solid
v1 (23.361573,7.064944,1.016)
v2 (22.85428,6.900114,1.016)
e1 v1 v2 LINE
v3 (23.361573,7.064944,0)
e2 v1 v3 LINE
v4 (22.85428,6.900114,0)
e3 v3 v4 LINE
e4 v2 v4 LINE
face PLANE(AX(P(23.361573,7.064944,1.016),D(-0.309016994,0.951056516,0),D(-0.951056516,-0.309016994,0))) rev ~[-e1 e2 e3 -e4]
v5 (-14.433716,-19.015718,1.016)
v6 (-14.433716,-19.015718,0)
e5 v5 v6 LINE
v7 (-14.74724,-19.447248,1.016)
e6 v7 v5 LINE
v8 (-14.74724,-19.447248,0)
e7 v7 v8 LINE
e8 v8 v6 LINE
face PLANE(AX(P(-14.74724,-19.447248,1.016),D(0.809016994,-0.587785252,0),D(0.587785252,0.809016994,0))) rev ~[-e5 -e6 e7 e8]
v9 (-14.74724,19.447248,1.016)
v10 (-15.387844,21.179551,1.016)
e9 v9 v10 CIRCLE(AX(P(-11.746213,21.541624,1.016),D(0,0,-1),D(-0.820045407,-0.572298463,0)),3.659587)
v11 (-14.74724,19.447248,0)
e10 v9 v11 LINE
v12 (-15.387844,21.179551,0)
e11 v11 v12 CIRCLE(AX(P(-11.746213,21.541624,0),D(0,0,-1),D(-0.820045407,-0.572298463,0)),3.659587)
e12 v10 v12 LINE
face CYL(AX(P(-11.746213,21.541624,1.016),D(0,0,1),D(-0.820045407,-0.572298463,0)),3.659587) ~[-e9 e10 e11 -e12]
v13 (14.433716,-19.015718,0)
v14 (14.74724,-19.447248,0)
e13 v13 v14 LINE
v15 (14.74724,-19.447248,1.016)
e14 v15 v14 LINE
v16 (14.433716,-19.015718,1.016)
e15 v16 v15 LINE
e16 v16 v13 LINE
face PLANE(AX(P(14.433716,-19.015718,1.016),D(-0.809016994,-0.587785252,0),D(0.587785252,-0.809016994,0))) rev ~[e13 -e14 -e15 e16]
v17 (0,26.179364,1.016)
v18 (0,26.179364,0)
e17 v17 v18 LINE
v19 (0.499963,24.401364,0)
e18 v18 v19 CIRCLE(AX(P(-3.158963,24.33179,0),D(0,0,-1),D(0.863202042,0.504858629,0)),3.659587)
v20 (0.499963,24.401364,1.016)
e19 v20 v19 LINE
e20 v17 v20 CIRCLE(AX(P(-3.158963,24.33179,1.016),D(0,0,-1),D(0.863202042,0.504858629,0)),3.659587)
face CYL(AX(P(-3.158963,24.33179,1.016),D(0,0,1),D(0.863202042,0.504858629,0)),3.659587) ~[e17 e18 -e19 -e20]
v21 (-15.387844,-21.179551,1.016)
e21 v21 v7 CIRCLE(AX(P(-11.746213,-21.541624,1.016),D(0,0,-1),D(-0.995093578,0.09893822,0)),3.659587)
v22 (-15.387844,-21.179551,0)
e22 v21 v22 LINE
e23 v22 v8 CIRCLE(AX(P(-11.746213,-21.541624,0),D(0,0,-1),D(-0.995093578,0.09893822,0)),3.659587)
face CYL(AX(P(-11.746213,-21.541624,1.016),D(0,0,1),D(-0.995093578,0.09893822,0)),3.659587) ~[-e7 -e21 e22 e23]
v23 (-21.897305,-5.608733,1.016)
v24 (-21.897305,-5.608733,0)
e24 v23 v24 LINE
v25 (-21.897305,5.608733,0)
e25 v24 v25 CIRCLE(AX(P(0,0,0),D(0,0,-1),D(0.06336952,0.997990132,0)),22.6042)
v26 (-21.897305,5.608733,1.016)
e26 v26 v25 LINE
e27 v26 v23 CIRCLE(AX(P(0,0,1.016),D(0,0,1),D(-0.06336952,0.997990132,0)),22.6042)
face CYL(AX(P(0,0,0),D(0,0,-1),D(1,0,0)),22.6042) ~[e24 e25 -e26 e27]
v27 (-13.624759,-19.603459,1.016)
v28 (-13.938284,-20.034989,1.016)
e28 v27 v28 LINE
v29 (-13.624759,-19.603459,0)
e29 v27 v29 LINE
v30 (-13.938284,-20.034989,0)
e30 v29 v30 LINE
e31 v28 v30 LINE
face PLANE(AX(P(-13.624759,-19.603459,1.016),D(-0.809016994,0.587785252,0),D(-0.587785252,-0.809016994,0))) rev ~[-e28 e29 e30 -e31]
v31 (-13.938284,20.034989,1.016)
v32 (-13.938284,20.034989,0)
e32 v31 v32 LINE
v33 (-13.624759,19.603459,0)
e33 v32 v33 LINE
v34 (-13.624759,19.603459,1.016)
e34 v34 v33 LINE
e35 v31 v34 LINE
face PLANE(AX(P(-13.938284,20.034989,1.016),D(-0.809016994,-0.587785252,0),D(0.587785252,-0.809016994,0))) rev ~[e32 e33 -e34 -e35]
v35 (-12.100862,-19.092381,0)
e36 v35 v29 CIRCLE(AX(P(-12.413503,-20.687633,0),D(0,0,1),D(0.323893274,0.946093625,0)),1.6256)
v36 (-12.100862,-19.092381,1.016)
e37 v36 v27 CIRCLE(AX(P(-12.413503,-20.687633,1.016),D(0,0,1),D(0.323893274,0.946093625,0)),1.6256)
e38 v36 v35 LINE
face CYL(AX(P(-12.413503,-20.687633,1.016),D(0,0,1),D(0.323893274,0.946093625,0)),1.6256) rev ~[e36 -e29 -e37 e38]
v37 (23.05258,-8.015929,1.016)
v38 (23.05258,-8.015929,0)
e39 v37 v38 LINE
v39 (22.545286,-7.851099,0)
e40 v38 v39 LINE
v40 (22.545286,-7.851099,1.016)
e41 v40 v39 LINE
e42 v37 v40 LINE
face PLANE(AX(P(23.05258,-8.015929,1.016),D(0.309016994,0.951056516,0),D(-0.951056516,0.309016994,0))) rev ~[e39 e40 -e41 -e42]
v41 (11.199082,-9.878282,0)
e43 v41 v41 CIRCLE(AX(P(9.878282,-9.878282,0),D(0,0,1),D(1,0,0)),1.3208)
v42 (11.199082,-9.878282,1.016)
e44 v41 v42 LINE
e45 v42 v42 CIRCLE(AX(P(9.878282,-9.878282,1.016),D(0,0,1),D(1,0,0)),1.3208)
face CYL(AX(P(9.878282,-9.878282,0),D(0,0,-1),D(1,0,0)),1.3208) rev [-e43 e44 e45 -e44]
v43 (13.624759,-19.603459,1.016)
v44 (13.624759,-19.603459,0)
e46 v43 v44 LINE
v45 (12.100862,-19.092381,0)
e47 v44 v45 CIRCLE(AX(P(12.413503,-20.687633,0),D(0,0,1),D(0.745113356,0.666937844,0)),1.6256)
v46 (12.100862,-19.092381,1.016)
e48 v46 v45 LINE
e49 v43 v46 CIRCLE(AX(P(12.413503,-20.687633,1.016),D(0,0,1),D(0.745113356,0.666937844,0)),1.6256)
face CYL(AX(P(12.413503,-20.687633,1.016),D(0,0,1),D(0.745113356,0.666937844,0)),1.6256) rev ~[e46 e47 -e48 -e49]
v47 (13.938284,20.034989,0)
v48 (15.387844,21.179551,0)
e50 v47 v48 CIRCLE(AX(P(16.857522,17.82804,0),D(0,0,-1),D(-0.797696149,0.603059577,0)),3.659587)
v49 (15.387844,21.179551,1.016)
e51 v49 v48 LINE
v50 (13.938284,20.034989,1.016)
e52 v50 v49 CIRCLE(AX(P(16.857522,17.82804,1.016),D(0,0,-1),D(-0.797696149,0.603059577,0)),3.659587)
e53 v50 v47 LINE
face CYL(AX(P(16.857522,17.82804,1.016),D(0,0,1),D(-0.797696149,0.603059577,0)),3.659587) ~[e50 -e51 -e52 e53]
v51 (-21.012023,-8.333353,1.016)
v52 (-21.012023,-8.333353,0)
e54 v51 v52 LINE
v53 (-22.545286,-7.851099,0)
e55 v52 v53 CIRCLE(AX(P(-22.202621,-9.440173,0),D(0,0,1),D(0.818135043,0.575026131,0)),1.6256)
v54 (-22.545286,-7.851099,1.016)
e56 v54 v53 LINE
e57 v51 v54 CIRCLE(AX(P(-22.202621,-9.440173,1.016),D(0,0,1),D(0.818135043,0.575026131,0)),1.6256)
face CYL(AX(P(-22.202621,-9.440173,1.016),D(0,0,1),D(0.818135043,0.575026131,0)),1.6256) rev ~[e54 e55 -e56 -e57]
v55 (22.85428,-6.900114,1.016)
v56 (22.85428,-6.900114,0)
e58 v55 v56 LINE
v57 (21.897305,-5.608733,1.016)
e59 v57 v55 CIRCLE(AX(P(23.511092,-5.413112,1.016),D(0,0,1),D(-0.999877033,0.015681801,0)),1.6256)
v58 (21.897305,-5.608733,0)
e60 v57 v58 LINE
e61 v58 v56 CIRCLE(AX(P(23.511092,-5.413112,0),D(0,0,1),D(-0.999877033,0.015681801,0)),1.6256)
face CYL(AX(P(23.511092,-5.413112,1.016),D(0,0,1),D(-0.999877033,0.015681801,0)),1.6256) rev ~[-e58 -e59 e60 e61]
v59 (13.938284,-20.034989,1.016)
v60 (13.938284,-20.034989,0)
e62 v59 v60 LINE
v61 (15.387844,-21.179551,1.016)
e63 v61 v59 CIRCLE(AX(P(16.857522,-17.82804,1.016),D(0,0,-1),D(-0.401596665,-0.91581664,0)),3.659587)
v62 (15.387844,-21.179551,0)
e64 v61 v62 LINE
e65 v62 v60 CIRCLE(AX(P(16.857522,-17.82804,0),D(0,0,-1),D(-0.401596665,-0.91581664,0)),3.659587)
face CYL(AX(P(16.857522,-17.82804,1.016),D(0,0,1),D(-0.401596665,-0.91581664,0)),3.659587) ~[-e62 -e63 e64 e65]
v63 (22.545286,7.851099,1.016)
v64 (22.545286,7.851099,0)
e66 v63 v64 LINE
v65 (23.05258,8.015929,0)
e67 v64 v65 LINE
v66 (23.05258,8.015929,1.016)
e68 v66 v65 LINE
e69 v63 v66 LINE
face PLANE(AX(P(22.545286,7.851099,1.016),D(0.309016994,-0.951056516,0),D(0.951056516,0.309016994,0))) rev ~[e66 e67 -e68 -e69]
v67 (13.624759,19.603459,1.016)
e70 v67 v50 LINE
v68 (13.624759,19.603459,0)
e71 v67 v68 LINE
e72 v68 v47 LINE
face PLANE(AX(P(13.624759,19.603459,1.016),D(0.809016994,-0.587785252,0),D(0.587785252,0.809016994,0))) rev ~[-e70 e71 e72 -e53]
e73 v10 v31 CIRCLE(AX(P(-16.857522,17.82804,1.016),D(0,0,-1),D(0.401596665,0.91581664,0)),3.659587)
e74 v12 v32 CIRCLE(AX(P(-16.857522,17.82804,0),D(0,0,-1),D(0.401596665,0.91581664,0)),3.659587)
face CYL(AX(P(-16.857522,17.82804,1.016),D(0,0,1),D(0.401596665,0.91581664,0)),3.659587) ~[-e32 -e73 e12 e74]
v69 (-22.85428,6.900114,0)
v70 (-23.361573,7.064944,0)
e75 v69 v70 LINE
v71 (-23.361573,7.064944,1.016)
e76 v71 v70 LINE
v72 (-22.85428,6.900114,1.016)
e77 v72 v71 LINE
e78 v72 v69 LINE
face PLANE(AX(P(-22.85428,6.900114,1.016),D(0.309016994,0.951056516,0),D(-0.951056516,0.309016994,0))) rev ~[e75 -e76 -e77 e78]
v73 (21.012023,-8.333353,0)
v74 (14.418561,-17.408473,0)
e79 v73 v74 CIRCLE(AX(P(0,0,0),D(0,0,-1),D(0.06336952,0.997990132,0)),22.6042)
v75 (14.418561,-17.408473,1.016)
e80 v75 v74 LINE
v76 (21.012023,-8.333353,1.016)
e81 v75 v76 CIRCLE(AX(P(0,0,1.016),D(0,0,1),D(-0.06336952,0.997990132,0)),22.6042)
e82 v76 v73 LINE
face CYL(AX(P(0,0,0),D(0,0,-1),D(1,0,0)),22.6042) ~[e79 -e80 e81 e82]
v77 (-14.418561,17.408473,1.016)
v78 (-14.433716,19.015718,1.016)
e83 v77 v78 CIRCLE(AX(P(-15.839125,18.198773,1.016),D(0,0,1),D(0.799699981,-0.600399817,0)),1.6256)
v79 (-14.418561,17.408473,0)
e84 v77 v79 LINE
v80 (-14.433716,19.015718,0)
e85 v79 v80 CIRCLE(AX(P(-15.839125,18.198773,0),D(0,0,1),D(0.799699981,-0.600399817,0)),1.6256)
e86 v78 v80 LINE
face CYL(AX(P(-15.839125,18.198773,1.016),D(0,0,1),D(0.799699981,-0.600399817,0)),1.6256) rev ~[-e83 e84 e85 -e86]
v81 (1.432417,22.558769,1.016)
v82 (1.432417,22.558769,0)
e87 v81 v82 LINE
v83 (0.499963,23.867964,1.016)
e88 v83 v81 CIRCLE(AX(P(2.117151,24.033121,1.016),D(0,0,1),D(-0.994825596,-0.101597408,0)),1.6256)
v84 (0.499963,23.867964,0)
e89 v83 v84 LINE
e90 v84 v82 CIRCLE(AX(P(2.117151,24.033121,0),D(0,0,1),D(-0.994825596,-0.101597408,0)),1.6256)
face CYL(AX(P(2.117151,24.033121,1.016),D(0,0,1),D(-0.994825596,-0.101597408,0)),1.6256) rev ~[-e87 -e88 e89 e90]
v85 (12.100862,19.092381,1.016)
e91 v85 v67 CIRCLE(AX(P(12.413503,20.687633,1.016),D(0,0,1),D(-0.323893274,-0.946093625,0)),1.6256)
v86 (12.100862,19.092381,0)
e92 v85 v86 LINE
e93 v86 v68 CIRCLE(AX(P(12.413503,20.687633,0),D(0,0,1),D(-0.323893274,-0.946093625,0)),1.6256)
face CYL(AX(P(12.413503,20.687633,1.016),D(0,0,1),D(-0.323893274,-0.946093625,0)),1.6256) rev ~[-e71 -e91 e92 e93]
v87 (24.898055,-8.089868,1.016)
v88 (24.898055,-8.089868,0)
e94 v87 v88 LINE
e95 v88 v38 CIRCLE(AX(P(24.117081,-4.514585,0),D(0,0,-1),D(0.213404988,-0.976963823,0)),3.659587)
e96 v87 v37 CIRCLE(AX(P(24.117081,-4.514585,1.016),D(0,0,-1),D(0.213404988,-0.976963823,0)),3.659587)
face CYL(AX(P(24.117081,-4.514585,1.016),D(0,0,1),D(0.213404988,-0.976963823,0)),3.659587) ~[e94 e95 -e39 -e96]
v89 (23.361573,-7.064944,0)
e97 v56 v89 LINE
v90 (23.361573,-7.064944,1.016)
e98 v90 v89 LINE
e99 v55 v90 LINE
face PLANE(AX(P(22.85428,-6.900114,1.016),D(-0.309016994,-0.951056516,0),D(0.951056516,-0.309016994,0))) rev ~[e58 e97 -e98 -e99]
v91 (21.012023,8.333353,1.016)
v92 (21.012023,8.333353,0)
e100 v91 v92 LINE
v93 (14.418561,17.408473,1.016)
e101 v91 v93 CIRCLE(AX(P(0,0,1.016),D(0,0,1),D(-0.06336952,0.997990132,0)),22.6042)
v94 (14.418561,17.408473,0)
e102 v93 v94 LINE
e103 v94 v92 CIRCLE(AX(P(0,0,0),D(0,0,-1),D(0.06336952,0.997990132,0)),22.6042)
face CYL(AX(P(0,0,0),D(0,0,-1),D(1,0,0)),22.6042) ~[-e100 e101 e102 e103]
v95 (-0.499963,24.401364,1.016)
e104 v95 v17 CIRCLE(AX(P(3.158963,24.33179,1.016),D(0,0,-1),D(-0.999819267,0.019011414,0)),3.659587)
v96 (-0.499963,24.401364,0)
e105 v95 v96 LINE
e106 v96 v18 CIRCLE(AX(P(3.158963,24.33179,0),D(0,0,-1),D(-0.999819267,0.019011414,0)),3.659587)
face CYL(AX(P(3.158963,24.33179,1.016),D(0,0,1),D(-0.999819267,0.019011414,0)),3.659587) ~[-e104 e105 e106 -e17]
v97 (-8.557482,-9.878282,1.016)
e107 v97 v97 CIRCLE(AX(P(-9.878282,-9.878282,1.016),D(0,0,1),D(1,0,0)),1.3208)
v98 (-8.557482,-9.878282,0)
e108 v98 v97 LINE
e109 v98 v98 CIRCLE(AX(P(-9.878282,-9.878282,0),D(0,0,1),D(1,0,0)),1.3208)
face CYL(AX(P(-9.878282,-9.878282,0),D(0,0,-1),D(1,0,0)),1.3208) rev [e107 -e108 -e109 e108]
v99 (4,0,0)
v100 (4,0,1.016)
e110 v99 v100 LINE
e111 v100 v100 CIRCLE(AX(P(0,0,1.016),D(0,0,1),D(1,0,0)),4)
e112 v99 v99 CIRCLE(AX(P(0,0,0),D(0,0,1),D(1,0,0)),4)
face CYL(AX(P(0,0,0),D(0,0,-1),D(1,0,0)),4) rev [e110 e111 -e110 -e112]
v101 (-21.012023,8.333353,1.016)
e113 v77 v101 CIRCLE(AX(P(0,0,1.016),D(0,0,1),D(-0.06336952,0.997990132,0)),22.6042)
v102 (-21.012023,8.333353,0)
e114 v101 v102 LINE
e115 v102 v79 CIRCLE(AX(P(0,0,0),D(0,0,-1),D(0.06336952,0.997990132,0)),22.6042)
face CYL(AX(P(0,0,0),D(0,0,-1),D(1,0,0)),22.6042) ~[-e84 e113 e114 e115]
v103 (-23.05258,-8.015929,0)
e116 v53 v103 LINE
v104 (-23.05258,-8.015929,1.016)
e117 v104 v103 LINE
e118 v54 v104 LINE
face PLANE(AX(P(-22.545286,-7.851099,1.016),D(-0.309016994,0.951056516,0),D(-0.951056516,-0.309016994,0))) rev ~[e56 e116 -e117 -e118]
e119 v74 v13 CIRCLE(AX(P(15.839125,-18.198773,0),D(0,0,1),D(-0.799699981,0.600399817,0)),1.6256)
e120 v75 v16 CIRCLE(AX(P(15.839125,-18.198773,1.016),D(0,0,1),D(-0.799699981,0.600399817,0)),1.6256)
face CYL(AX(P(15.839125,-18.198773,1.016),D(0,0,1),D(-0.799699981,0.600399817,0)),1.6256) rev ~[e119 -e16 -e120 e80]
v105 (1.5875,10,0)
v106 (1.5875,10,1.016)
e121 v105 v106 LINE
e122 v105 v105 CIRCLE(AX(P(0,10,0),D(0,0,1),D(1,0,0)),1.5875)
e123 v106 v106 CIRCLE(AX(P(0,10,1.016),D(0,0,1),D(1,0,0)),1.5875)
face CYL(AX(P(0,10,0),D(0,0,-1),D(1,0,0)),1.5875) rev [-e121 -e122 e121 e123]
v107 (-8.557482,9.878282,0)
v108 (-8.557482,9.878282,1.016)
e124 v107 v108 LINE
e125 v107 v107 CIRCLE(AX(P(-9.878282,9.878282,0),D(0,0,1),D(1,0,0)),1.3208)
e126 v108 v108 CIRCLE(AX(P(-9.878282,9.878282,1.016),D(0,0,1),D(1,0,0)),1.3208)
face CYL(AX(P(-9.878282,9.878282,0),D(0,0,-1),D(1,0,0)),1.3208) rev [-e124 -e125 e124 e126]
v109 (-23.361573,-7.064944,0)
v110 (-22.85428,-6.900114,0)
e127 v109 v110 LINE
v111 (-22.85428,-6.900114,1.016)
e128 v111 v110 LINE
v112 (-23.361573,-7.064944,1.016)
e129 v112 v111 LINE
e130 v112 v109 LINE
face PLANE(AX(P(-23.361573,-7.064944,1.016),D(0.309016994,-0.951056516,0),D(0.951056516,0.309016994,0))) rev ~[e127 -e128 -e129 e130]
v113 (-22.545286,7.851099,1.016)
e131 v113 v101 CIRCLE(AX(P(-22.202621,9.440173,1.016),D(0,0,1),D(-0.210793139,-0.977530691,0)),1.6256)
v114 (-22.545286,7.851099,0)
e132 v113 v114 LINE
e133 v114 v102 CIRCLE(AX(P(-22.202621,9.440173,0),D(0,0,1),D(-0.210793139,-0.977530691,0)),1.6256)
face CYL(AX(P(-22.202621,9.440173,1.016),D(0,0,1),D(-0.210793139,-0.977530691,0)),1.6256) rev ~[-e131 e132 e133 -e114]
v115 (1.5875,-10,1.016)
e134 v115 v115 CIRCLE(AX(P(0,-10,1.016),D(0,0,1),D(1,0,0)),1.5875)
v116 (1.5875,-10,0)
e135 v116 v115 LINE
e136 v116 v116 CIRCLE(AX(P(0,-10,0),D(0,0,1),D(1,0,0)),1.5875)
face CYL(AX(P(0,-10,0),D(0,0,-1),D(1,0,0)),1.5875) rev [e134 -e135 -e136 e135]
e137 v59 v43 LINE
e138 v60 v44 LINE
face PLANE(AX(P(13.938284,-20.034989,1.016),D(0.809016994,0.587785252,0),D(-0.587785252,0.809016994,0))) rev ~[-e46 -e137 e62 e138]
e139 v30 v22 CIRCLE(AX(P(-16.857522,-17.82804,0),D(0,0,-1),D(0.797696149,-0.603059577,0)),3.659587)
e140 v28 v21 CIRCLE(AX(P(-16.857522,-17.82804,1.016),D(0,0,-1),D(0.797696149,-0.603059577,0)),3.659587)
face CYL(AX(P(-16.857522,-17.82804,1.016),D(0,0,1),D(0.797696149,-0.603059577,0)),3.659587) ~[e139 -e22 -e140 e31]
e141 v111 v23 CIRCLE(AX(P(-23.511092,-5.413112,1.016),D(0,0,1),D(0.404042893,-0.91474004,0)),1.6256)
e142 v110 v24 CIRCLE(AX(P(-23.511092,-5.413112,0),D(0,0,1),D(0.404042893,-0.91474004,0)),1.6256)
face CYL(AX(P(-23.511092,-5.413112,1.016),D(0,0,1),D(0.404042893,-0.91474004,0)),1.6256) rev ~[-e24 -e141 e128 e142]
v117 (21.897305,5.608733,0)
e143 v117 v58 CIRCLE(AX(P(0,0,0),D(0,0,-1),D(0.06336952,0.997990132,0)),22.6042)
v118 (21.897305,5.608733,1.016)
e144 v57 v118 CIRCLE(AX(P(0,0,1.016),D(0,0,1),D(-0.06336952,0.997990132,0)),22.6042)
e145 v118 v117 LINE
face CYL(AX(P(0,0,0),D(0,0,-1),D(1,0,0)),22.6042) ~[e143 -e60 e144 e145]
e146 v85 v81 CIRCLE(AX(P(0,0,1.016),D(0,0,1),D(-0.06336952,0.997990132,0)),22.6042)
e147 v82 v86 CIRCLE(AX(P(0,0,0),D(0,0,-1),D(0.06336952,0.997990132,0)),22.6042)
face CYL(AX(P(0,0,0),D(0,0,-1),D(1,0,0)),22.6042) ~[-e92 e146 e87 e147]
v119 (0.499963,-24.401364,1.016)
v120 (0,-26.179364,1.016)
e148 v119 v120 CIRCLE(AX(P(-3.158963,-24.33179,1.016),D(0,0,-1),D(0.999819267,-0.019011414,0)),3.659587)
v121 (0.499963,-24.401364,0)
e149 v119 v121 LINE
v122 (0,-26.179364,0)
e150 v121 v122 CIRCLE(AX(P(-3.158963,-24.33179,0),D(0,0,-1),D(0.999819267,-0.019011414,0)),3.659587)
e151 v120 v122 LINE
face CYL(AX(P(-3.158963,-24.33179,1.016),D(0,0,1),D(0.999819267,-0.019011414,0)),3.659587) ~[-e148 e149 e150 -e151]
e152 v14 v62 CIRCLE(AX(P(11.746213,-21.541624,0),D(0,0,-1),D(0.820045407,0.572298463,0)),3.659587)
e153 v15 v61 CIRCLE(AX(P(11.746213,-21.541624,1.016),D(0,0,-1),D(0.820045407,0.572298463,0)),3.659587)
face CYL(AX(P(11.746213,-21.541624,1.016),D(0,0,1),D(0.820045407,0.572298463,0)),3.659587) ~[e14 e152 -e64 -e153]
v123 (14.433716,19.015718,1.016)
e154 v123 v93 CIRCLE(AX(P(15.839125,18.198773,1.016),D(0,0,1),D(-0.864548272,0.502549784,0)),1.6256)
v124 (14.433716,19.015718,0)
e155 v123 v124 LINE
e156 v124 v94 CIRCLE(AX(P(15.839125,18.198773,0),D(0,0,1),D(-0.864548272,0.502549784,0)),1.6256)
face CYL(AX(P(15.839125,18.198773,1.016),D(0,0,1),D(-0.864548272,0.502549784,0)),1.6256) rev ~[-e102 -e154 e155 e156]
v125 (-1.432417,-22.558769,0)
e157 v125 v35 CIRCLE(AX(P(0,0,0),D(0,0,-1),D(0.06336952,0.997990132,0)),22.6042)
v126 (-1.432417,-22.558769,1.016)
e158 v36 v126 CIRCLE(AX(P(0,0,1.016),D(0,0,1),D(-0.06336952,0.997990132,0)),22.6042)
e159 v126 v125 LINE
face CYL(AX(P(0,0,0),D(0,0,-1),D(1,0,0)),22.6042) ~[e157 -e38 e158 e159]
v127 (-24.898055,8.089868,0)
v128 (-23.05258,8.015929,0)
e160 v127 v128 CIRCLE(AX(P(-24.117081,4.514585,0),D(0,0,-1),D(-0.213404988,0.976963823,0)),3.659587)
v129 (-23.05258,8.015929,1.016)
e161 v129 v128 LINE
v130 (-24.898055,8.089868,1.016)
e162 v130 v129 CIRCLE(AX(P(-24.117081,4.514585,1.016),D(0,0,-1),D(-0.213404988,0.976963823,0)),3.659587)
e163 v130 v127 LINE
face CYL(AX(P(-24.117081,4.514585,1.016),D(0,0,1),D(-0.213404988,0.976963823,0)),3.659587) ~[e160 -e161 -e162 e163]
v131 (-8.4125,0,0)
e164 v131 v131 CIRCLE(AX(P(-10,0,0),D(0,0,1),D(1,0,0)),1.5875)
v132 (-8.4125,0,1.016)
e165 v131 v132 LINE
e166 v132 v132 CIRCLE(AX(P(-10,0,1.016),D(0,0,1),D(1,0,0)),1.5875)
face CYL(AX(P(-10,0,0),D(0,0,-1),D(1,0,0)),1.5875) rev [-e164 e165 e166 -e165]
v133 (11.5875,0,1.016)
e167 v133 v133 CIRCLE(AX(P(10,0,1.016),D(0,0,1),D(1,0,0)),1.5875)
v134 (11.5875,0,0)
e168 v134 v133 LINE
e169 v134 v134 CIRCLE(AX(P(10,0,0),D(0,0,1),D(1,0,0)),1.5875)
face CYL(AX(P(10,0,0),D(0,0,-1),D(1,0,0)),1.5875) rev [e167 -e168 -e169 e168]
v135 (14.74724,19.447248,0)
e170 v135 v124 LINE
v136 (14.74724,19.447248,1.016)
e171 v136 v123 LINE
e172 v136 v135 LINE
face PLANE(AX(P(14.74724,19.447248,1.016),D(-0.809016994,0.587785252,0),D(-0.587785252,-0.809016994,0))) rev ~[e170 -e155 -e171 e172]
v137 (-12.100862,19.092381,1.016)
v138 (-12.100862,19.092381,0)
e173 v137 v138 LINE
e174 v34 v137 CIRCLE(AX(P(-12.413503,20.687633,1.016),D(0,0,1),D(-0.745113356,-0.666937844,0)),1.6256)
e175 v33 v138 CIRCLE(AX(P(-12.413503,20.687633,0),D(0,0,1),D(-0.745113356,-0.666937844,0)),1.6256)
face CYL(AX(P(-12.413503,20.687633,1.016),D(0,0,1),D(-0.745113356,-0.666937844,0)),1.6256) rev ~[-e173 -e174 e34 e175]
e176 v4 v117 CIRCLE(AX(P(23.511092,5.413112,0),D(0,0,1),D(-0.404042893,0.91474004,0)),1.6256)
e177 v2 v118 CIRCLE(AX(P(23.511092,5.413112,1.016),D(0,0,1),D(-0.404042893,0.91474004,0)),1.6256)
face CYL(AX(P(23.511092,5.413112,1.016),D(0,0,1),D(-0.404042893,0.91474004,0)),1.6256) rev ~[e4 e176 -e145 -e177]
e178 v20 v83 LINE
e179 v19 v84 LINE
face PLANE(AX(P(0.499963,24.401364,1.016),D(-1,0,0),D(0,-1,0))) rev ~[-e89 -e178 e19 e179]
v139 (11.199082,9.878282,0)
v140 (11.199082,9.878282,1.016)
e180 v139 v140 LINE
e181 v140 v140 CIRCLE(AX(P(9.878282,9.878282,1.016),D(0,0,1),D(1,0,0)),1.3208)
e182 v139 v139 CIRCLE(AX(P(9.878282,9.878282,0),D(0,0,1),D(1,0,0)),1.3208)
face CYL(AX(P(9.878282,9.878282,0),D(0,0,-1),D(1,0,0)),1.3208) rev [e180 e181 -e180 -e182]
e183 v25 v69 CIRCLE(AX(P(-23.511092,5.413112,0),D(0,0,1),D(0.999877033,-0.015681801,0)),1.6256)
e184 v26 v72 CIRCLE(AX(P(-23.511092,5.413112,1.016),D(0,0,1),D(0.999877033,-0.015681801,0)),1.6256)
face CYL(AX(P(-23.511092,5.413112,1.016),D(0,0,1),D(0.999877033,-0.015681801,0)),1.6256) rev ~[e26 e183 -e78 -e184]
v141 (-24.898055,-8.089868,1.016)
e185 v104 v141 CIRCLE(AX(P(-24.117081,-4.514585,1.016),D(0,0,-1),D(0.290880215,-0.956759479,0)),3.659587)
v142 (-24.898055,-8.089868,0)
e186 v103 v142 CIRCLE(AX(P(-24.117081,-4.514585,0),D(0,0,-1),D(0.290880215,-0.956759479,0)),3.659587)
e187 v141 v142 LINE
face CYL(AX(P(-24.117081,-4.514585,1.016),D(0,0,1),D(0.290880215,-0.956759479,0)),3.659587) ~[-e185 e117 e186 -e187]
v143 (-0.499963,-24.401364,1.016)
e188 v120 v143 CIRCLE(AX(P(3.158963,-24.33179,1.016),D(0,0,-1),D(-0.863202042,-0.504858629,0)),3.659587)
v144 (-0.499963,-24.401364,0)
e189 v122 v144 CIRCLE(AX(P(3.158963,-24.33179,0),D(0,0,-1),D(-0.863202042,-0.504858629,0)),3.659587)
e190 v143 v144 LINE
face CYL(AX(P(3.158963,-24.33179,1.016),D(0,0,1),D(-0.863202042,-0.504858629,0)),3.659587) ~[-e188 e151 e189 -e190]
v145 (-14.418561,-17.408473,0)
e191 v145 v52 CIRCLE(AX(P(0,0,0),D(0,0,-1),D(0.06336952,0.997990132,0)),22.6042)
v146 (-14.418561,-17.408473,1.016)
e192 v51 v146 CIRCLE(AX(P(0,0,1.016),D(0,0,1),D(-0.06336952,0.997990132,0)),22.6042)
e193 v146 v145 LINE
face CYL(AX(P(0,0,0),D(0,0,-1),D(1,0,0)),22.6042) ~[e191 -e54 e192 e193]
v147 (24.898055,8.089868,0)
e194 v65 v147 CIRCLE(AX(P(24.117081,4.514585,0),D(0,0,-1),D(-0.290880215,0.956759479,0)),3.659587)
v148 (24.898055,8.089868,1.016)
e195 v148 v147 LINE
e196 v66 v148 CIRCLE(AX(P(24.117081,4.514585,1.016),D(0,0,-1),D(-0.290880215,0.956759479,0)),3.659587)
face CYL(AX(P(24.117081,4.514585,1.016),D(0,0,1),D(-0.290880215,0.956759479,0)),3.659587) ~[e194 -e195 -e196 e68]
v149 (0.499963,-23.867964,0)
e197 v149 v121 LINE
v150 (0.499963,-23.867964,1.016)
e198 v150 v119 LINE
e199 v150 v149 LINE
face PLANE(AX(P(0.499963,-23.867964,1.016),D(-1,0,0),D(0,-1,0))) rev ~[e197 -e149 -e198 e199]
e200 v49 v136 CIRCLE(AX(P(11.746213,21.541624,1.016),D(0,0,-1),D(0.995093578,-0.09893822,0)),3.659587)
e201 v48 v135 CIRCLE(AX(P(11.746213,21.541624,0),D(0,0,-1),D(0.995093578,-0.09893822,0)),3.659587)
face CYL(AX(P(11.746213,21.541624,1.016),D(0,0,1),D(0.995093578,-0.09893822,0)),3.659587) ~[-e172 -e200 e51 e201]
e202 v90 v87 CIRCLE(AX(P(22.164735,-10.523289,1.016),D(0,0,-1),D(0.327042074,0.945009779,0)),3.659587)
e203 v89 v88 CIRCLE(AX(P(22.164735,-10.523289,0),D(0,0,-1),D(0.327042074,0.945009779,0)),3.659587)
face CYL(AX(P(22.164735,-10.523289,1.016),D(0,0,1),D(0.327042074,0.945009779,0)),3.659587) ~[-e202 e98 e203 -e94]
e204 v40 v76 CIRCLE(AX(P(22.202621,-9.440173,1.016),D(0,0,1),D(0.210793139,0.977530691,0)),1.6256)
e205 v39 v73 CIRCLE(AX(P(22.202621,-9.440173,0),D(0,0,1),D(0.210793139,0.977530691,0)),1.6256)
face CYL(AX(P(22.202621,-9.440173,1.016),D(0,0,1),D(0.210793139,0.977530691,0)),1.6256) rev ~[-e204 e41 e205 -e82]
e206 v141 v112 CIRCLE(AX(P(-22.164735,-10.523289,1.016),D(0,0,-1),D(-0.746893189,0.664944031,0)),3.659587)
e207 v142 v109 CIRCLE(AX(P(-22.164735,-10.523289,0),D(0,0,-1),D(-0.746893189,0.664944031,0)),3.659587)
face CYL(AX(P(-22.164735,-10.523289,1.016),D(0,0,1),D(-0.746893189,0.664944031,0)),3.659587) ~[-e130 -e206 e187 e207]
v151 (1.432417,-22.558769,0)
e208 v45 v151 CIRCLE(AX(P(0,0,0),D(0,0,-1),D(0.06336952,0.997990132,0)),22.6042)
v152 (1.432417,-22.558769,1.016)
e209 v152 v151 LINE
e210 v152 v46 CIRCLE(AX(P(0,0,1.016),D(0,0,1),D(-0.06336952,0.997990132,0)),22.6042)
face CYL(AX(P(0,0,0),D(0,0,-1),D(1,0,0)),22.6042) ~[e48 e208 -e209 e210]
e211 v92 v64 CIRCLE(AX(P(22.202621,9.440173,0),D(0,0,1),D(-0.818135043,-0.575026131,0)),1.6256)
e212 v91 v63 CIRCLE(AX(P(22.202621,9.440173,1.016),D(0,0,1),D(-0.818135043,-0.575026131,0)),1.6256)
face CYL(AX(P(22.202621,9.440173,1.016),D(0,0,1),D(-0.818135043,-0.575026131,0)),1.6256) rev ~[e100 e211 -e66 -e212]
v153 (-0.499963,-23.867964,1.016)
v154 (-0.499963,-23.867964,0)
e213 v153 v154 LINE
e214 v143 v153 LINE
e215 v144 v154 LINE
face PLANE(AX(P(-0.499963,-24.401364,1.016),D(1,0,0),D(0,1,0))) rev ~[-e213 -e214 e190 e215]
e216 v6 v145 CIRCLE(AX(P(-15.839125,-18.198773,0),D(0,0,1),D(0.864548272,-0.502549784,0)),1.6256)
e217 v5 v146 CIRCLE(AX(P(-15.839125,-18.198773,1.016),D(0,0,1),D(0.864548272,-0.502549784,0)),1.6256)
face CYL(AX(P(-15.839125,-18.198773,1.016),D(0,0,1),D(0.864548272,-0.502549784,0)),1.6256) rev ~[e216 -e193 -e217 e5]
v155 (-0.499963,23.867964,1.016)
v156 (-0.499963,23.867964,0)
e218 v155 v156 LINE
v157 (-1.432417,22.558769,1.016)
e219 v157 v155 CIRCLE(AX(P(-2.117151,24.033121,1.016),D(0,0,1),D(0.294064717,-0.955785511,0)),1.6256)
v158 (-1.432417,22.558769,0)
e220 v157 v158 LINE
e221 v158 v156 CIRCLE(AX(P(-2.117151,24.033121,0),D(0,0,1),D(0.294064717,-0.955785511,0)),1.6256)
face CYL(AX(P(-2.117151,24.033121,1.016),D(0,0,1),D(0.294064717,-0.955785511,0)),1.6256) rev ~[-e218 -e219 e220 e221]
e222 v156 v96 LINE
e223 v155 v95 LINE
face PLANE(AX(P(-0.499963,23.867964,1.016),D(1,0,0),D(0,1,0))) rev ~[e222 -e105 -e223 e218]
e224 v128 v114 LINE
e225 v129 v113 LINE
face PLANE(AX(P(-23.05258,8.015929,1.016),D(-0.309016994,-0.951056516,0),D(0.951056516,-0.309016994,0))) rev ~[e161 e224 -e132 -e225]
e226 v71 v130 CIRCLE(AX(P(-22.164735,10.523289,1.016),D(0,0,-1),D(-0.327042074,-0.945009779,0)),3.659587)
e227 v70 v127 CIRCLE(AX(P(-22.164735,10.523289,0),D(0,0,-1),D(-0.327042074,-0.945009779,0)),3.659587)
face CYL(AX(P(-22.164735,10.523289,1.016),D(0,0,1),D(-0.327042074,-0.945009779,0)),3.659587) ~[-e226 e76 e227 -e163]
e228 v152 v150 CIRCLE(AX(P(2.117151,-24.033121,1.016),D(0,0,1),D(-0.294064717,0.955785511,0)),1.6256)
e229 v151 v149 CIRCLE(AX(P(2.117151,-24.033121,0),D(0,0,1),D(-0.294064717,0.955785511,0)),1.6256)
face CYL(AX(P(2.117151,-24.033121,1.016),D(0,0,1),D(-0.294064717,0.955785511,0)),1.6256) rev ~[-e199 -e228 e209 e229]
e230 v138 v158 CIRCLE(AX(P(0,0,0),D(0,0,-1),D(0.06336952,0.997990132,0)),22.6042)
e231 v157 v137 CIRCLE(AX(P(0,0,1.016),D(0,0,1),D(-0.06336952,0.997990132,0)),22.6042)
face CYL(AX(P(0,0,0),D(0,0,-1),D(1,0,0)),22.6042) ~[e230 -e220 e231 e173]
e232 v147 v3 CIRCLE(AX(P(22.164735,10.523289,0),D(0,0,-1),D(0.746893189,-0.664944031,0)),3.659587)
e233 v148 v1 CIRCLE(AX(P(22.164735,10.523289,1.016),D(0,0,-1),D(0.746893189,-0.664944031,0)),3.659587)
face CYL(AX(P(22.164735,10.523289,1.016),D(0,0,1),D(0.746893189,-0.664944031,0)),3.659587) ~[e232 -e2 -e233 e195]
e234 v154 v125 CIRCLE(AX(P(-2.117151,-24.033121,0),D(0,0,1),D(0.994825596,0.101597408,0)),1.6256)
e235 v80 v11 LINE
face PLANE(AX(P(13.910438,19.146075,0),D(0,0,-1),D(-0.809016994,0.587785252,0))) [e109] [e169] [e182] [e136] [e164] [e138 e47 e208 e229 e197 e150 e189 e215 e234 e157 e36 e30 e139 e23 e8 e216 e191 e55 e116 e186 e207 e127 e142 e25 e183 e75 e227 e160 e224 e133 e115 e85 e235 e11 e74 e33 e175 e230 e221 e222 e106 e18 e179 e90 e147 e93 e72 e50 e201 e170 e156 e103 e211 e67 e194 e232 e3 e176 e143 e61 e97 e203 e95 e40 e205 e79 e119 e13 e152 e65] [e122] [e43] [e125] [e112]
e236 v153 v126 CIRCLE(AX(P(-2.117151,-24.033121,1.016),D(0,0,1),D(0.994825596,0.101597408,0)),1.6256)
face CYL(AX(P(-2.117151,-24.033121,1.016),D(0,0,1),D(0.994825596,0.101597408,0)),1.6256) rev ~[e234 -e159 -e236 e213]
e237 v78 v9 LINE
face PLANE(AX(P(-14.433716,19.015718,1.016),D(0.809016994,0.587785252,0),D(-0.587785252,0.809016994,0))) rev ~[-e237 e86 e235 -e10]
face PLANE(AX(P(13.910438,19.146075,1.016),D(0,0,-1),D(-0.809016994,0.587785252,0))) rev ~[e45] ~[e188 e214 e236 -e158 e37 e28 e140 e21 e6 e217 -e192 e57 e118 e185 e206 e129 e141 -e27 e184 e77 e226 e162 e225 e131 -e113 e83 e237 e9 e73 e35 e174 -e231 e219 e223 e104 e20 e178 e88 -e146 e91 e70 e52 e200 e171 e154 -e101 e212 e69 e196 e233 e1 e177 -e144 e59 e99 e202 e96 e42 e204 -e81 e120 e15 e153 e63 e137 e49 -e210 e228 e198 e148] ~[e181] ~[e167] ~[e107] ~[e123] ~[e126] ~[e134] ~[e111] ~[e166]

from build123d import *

# Parameters (mm, degrees)
SKETCH1_R           = 22.6042
SKETCH1_R_2         = 1.5875
SKETCH1_R_3         = 1.3208
SKETCH1_R_4         = 4
BOSS_EXTRUDE2_DEPTH = 1.016
BOSS_EXTRUDE4_DEPTH = 1.016
CIRPATTERN1_COUNT   = 10


with BuildPart() as part:
    # Sketch1 → Boss-Extrude2 (new body)
    with BuildSketch(Plane.XY):
        Circle(SKETCH1_R)
        with Locations((0, 10)):
            Circle(SKETCH1_R_2, mode=Mode.SUBTRACT)
        with Locations((9.878281733, -9.878281733)):
            Circle(SKETCH1_R_3, mode=Mode.SUBTRACT)
        with Locations((9.878281733, 9.878281733)):
            Circle(SKETCH1_R_3, mode=Mode.SUBTRACT)
        with Locations((-9.878281733, -9.878281733)):
            Circle(SKETCH1_R_3, mode=Mode.SUBTRACT)
        with Locations((-9.878281733, 9.878281733)):
            Circle(SKETCH1_R_3, mode=Mode.SUBTRACT)
        Circle(SKETCH1_R_4, mode=Mode.SUBTRACT)
        with Locations((10, 0)):
            Circle(SKETCH1_R_2, mode=Mode.SUBTRACT)
        with Locations((0, -10)):
            Circle(SKETCH1_R_2, mode=Mode.SUBTRACT)
        with Locations((-10, 0)):
            Circle(SKETCH1_R_2, mode=Mode.SUBTRACT)
    extrude(amount=BOSS_EXTRUDE2_DEPTH)

    # Sketch2 → Boss-Extrude4 (add)
    with BuildSketch(Plane.XY.offset(1.016)):
        with BuildLine():
            Line((-0.499962578, 23.867964213), (-0.499962578, 24.401364213))
            ThreePointArc((-0.499962578, 24.401364213), (-0.363993462, 25.322423729), (0, 26.179364213))
            ThreePointArc((0, 26.179364213), (0.363993462, 25.322423729), (0.499962578, 24.401364213))
            Line((0.499962578, 24.401364213), (0.499962578, 23.867964213))
            ThreePointArc((0.499962578, 23.867964213), (0.860362618, 23.002073844), (1.639119464, 22.479396033))
            ThreePointArc((1.639119464, 22.479396033), (0, 22.249732232), (-1.639119464, 22.479396033))
            ThreePointArc((-1.639119464, 22.479396033), (-0.860362618, 23.002073844), (-0.499962578, 23.867964213))
        make_face()
    boss_extrude4 = extrude(amount=-BOSS_EXTRUDE4_DEPTH)

    # CirPattern1: Boss-Extrude4 ×10 about axis
    cirpattern1_axis = Axis((0, 0, 0), (0, 0, 1))
    for i in range(1, CIRPATTERN1_COUNT):
        add(boss_extrude4.rotate(cirpattern1_axis, i * 360 / CIRPATTERN1_COUNT))


solid = part.part
